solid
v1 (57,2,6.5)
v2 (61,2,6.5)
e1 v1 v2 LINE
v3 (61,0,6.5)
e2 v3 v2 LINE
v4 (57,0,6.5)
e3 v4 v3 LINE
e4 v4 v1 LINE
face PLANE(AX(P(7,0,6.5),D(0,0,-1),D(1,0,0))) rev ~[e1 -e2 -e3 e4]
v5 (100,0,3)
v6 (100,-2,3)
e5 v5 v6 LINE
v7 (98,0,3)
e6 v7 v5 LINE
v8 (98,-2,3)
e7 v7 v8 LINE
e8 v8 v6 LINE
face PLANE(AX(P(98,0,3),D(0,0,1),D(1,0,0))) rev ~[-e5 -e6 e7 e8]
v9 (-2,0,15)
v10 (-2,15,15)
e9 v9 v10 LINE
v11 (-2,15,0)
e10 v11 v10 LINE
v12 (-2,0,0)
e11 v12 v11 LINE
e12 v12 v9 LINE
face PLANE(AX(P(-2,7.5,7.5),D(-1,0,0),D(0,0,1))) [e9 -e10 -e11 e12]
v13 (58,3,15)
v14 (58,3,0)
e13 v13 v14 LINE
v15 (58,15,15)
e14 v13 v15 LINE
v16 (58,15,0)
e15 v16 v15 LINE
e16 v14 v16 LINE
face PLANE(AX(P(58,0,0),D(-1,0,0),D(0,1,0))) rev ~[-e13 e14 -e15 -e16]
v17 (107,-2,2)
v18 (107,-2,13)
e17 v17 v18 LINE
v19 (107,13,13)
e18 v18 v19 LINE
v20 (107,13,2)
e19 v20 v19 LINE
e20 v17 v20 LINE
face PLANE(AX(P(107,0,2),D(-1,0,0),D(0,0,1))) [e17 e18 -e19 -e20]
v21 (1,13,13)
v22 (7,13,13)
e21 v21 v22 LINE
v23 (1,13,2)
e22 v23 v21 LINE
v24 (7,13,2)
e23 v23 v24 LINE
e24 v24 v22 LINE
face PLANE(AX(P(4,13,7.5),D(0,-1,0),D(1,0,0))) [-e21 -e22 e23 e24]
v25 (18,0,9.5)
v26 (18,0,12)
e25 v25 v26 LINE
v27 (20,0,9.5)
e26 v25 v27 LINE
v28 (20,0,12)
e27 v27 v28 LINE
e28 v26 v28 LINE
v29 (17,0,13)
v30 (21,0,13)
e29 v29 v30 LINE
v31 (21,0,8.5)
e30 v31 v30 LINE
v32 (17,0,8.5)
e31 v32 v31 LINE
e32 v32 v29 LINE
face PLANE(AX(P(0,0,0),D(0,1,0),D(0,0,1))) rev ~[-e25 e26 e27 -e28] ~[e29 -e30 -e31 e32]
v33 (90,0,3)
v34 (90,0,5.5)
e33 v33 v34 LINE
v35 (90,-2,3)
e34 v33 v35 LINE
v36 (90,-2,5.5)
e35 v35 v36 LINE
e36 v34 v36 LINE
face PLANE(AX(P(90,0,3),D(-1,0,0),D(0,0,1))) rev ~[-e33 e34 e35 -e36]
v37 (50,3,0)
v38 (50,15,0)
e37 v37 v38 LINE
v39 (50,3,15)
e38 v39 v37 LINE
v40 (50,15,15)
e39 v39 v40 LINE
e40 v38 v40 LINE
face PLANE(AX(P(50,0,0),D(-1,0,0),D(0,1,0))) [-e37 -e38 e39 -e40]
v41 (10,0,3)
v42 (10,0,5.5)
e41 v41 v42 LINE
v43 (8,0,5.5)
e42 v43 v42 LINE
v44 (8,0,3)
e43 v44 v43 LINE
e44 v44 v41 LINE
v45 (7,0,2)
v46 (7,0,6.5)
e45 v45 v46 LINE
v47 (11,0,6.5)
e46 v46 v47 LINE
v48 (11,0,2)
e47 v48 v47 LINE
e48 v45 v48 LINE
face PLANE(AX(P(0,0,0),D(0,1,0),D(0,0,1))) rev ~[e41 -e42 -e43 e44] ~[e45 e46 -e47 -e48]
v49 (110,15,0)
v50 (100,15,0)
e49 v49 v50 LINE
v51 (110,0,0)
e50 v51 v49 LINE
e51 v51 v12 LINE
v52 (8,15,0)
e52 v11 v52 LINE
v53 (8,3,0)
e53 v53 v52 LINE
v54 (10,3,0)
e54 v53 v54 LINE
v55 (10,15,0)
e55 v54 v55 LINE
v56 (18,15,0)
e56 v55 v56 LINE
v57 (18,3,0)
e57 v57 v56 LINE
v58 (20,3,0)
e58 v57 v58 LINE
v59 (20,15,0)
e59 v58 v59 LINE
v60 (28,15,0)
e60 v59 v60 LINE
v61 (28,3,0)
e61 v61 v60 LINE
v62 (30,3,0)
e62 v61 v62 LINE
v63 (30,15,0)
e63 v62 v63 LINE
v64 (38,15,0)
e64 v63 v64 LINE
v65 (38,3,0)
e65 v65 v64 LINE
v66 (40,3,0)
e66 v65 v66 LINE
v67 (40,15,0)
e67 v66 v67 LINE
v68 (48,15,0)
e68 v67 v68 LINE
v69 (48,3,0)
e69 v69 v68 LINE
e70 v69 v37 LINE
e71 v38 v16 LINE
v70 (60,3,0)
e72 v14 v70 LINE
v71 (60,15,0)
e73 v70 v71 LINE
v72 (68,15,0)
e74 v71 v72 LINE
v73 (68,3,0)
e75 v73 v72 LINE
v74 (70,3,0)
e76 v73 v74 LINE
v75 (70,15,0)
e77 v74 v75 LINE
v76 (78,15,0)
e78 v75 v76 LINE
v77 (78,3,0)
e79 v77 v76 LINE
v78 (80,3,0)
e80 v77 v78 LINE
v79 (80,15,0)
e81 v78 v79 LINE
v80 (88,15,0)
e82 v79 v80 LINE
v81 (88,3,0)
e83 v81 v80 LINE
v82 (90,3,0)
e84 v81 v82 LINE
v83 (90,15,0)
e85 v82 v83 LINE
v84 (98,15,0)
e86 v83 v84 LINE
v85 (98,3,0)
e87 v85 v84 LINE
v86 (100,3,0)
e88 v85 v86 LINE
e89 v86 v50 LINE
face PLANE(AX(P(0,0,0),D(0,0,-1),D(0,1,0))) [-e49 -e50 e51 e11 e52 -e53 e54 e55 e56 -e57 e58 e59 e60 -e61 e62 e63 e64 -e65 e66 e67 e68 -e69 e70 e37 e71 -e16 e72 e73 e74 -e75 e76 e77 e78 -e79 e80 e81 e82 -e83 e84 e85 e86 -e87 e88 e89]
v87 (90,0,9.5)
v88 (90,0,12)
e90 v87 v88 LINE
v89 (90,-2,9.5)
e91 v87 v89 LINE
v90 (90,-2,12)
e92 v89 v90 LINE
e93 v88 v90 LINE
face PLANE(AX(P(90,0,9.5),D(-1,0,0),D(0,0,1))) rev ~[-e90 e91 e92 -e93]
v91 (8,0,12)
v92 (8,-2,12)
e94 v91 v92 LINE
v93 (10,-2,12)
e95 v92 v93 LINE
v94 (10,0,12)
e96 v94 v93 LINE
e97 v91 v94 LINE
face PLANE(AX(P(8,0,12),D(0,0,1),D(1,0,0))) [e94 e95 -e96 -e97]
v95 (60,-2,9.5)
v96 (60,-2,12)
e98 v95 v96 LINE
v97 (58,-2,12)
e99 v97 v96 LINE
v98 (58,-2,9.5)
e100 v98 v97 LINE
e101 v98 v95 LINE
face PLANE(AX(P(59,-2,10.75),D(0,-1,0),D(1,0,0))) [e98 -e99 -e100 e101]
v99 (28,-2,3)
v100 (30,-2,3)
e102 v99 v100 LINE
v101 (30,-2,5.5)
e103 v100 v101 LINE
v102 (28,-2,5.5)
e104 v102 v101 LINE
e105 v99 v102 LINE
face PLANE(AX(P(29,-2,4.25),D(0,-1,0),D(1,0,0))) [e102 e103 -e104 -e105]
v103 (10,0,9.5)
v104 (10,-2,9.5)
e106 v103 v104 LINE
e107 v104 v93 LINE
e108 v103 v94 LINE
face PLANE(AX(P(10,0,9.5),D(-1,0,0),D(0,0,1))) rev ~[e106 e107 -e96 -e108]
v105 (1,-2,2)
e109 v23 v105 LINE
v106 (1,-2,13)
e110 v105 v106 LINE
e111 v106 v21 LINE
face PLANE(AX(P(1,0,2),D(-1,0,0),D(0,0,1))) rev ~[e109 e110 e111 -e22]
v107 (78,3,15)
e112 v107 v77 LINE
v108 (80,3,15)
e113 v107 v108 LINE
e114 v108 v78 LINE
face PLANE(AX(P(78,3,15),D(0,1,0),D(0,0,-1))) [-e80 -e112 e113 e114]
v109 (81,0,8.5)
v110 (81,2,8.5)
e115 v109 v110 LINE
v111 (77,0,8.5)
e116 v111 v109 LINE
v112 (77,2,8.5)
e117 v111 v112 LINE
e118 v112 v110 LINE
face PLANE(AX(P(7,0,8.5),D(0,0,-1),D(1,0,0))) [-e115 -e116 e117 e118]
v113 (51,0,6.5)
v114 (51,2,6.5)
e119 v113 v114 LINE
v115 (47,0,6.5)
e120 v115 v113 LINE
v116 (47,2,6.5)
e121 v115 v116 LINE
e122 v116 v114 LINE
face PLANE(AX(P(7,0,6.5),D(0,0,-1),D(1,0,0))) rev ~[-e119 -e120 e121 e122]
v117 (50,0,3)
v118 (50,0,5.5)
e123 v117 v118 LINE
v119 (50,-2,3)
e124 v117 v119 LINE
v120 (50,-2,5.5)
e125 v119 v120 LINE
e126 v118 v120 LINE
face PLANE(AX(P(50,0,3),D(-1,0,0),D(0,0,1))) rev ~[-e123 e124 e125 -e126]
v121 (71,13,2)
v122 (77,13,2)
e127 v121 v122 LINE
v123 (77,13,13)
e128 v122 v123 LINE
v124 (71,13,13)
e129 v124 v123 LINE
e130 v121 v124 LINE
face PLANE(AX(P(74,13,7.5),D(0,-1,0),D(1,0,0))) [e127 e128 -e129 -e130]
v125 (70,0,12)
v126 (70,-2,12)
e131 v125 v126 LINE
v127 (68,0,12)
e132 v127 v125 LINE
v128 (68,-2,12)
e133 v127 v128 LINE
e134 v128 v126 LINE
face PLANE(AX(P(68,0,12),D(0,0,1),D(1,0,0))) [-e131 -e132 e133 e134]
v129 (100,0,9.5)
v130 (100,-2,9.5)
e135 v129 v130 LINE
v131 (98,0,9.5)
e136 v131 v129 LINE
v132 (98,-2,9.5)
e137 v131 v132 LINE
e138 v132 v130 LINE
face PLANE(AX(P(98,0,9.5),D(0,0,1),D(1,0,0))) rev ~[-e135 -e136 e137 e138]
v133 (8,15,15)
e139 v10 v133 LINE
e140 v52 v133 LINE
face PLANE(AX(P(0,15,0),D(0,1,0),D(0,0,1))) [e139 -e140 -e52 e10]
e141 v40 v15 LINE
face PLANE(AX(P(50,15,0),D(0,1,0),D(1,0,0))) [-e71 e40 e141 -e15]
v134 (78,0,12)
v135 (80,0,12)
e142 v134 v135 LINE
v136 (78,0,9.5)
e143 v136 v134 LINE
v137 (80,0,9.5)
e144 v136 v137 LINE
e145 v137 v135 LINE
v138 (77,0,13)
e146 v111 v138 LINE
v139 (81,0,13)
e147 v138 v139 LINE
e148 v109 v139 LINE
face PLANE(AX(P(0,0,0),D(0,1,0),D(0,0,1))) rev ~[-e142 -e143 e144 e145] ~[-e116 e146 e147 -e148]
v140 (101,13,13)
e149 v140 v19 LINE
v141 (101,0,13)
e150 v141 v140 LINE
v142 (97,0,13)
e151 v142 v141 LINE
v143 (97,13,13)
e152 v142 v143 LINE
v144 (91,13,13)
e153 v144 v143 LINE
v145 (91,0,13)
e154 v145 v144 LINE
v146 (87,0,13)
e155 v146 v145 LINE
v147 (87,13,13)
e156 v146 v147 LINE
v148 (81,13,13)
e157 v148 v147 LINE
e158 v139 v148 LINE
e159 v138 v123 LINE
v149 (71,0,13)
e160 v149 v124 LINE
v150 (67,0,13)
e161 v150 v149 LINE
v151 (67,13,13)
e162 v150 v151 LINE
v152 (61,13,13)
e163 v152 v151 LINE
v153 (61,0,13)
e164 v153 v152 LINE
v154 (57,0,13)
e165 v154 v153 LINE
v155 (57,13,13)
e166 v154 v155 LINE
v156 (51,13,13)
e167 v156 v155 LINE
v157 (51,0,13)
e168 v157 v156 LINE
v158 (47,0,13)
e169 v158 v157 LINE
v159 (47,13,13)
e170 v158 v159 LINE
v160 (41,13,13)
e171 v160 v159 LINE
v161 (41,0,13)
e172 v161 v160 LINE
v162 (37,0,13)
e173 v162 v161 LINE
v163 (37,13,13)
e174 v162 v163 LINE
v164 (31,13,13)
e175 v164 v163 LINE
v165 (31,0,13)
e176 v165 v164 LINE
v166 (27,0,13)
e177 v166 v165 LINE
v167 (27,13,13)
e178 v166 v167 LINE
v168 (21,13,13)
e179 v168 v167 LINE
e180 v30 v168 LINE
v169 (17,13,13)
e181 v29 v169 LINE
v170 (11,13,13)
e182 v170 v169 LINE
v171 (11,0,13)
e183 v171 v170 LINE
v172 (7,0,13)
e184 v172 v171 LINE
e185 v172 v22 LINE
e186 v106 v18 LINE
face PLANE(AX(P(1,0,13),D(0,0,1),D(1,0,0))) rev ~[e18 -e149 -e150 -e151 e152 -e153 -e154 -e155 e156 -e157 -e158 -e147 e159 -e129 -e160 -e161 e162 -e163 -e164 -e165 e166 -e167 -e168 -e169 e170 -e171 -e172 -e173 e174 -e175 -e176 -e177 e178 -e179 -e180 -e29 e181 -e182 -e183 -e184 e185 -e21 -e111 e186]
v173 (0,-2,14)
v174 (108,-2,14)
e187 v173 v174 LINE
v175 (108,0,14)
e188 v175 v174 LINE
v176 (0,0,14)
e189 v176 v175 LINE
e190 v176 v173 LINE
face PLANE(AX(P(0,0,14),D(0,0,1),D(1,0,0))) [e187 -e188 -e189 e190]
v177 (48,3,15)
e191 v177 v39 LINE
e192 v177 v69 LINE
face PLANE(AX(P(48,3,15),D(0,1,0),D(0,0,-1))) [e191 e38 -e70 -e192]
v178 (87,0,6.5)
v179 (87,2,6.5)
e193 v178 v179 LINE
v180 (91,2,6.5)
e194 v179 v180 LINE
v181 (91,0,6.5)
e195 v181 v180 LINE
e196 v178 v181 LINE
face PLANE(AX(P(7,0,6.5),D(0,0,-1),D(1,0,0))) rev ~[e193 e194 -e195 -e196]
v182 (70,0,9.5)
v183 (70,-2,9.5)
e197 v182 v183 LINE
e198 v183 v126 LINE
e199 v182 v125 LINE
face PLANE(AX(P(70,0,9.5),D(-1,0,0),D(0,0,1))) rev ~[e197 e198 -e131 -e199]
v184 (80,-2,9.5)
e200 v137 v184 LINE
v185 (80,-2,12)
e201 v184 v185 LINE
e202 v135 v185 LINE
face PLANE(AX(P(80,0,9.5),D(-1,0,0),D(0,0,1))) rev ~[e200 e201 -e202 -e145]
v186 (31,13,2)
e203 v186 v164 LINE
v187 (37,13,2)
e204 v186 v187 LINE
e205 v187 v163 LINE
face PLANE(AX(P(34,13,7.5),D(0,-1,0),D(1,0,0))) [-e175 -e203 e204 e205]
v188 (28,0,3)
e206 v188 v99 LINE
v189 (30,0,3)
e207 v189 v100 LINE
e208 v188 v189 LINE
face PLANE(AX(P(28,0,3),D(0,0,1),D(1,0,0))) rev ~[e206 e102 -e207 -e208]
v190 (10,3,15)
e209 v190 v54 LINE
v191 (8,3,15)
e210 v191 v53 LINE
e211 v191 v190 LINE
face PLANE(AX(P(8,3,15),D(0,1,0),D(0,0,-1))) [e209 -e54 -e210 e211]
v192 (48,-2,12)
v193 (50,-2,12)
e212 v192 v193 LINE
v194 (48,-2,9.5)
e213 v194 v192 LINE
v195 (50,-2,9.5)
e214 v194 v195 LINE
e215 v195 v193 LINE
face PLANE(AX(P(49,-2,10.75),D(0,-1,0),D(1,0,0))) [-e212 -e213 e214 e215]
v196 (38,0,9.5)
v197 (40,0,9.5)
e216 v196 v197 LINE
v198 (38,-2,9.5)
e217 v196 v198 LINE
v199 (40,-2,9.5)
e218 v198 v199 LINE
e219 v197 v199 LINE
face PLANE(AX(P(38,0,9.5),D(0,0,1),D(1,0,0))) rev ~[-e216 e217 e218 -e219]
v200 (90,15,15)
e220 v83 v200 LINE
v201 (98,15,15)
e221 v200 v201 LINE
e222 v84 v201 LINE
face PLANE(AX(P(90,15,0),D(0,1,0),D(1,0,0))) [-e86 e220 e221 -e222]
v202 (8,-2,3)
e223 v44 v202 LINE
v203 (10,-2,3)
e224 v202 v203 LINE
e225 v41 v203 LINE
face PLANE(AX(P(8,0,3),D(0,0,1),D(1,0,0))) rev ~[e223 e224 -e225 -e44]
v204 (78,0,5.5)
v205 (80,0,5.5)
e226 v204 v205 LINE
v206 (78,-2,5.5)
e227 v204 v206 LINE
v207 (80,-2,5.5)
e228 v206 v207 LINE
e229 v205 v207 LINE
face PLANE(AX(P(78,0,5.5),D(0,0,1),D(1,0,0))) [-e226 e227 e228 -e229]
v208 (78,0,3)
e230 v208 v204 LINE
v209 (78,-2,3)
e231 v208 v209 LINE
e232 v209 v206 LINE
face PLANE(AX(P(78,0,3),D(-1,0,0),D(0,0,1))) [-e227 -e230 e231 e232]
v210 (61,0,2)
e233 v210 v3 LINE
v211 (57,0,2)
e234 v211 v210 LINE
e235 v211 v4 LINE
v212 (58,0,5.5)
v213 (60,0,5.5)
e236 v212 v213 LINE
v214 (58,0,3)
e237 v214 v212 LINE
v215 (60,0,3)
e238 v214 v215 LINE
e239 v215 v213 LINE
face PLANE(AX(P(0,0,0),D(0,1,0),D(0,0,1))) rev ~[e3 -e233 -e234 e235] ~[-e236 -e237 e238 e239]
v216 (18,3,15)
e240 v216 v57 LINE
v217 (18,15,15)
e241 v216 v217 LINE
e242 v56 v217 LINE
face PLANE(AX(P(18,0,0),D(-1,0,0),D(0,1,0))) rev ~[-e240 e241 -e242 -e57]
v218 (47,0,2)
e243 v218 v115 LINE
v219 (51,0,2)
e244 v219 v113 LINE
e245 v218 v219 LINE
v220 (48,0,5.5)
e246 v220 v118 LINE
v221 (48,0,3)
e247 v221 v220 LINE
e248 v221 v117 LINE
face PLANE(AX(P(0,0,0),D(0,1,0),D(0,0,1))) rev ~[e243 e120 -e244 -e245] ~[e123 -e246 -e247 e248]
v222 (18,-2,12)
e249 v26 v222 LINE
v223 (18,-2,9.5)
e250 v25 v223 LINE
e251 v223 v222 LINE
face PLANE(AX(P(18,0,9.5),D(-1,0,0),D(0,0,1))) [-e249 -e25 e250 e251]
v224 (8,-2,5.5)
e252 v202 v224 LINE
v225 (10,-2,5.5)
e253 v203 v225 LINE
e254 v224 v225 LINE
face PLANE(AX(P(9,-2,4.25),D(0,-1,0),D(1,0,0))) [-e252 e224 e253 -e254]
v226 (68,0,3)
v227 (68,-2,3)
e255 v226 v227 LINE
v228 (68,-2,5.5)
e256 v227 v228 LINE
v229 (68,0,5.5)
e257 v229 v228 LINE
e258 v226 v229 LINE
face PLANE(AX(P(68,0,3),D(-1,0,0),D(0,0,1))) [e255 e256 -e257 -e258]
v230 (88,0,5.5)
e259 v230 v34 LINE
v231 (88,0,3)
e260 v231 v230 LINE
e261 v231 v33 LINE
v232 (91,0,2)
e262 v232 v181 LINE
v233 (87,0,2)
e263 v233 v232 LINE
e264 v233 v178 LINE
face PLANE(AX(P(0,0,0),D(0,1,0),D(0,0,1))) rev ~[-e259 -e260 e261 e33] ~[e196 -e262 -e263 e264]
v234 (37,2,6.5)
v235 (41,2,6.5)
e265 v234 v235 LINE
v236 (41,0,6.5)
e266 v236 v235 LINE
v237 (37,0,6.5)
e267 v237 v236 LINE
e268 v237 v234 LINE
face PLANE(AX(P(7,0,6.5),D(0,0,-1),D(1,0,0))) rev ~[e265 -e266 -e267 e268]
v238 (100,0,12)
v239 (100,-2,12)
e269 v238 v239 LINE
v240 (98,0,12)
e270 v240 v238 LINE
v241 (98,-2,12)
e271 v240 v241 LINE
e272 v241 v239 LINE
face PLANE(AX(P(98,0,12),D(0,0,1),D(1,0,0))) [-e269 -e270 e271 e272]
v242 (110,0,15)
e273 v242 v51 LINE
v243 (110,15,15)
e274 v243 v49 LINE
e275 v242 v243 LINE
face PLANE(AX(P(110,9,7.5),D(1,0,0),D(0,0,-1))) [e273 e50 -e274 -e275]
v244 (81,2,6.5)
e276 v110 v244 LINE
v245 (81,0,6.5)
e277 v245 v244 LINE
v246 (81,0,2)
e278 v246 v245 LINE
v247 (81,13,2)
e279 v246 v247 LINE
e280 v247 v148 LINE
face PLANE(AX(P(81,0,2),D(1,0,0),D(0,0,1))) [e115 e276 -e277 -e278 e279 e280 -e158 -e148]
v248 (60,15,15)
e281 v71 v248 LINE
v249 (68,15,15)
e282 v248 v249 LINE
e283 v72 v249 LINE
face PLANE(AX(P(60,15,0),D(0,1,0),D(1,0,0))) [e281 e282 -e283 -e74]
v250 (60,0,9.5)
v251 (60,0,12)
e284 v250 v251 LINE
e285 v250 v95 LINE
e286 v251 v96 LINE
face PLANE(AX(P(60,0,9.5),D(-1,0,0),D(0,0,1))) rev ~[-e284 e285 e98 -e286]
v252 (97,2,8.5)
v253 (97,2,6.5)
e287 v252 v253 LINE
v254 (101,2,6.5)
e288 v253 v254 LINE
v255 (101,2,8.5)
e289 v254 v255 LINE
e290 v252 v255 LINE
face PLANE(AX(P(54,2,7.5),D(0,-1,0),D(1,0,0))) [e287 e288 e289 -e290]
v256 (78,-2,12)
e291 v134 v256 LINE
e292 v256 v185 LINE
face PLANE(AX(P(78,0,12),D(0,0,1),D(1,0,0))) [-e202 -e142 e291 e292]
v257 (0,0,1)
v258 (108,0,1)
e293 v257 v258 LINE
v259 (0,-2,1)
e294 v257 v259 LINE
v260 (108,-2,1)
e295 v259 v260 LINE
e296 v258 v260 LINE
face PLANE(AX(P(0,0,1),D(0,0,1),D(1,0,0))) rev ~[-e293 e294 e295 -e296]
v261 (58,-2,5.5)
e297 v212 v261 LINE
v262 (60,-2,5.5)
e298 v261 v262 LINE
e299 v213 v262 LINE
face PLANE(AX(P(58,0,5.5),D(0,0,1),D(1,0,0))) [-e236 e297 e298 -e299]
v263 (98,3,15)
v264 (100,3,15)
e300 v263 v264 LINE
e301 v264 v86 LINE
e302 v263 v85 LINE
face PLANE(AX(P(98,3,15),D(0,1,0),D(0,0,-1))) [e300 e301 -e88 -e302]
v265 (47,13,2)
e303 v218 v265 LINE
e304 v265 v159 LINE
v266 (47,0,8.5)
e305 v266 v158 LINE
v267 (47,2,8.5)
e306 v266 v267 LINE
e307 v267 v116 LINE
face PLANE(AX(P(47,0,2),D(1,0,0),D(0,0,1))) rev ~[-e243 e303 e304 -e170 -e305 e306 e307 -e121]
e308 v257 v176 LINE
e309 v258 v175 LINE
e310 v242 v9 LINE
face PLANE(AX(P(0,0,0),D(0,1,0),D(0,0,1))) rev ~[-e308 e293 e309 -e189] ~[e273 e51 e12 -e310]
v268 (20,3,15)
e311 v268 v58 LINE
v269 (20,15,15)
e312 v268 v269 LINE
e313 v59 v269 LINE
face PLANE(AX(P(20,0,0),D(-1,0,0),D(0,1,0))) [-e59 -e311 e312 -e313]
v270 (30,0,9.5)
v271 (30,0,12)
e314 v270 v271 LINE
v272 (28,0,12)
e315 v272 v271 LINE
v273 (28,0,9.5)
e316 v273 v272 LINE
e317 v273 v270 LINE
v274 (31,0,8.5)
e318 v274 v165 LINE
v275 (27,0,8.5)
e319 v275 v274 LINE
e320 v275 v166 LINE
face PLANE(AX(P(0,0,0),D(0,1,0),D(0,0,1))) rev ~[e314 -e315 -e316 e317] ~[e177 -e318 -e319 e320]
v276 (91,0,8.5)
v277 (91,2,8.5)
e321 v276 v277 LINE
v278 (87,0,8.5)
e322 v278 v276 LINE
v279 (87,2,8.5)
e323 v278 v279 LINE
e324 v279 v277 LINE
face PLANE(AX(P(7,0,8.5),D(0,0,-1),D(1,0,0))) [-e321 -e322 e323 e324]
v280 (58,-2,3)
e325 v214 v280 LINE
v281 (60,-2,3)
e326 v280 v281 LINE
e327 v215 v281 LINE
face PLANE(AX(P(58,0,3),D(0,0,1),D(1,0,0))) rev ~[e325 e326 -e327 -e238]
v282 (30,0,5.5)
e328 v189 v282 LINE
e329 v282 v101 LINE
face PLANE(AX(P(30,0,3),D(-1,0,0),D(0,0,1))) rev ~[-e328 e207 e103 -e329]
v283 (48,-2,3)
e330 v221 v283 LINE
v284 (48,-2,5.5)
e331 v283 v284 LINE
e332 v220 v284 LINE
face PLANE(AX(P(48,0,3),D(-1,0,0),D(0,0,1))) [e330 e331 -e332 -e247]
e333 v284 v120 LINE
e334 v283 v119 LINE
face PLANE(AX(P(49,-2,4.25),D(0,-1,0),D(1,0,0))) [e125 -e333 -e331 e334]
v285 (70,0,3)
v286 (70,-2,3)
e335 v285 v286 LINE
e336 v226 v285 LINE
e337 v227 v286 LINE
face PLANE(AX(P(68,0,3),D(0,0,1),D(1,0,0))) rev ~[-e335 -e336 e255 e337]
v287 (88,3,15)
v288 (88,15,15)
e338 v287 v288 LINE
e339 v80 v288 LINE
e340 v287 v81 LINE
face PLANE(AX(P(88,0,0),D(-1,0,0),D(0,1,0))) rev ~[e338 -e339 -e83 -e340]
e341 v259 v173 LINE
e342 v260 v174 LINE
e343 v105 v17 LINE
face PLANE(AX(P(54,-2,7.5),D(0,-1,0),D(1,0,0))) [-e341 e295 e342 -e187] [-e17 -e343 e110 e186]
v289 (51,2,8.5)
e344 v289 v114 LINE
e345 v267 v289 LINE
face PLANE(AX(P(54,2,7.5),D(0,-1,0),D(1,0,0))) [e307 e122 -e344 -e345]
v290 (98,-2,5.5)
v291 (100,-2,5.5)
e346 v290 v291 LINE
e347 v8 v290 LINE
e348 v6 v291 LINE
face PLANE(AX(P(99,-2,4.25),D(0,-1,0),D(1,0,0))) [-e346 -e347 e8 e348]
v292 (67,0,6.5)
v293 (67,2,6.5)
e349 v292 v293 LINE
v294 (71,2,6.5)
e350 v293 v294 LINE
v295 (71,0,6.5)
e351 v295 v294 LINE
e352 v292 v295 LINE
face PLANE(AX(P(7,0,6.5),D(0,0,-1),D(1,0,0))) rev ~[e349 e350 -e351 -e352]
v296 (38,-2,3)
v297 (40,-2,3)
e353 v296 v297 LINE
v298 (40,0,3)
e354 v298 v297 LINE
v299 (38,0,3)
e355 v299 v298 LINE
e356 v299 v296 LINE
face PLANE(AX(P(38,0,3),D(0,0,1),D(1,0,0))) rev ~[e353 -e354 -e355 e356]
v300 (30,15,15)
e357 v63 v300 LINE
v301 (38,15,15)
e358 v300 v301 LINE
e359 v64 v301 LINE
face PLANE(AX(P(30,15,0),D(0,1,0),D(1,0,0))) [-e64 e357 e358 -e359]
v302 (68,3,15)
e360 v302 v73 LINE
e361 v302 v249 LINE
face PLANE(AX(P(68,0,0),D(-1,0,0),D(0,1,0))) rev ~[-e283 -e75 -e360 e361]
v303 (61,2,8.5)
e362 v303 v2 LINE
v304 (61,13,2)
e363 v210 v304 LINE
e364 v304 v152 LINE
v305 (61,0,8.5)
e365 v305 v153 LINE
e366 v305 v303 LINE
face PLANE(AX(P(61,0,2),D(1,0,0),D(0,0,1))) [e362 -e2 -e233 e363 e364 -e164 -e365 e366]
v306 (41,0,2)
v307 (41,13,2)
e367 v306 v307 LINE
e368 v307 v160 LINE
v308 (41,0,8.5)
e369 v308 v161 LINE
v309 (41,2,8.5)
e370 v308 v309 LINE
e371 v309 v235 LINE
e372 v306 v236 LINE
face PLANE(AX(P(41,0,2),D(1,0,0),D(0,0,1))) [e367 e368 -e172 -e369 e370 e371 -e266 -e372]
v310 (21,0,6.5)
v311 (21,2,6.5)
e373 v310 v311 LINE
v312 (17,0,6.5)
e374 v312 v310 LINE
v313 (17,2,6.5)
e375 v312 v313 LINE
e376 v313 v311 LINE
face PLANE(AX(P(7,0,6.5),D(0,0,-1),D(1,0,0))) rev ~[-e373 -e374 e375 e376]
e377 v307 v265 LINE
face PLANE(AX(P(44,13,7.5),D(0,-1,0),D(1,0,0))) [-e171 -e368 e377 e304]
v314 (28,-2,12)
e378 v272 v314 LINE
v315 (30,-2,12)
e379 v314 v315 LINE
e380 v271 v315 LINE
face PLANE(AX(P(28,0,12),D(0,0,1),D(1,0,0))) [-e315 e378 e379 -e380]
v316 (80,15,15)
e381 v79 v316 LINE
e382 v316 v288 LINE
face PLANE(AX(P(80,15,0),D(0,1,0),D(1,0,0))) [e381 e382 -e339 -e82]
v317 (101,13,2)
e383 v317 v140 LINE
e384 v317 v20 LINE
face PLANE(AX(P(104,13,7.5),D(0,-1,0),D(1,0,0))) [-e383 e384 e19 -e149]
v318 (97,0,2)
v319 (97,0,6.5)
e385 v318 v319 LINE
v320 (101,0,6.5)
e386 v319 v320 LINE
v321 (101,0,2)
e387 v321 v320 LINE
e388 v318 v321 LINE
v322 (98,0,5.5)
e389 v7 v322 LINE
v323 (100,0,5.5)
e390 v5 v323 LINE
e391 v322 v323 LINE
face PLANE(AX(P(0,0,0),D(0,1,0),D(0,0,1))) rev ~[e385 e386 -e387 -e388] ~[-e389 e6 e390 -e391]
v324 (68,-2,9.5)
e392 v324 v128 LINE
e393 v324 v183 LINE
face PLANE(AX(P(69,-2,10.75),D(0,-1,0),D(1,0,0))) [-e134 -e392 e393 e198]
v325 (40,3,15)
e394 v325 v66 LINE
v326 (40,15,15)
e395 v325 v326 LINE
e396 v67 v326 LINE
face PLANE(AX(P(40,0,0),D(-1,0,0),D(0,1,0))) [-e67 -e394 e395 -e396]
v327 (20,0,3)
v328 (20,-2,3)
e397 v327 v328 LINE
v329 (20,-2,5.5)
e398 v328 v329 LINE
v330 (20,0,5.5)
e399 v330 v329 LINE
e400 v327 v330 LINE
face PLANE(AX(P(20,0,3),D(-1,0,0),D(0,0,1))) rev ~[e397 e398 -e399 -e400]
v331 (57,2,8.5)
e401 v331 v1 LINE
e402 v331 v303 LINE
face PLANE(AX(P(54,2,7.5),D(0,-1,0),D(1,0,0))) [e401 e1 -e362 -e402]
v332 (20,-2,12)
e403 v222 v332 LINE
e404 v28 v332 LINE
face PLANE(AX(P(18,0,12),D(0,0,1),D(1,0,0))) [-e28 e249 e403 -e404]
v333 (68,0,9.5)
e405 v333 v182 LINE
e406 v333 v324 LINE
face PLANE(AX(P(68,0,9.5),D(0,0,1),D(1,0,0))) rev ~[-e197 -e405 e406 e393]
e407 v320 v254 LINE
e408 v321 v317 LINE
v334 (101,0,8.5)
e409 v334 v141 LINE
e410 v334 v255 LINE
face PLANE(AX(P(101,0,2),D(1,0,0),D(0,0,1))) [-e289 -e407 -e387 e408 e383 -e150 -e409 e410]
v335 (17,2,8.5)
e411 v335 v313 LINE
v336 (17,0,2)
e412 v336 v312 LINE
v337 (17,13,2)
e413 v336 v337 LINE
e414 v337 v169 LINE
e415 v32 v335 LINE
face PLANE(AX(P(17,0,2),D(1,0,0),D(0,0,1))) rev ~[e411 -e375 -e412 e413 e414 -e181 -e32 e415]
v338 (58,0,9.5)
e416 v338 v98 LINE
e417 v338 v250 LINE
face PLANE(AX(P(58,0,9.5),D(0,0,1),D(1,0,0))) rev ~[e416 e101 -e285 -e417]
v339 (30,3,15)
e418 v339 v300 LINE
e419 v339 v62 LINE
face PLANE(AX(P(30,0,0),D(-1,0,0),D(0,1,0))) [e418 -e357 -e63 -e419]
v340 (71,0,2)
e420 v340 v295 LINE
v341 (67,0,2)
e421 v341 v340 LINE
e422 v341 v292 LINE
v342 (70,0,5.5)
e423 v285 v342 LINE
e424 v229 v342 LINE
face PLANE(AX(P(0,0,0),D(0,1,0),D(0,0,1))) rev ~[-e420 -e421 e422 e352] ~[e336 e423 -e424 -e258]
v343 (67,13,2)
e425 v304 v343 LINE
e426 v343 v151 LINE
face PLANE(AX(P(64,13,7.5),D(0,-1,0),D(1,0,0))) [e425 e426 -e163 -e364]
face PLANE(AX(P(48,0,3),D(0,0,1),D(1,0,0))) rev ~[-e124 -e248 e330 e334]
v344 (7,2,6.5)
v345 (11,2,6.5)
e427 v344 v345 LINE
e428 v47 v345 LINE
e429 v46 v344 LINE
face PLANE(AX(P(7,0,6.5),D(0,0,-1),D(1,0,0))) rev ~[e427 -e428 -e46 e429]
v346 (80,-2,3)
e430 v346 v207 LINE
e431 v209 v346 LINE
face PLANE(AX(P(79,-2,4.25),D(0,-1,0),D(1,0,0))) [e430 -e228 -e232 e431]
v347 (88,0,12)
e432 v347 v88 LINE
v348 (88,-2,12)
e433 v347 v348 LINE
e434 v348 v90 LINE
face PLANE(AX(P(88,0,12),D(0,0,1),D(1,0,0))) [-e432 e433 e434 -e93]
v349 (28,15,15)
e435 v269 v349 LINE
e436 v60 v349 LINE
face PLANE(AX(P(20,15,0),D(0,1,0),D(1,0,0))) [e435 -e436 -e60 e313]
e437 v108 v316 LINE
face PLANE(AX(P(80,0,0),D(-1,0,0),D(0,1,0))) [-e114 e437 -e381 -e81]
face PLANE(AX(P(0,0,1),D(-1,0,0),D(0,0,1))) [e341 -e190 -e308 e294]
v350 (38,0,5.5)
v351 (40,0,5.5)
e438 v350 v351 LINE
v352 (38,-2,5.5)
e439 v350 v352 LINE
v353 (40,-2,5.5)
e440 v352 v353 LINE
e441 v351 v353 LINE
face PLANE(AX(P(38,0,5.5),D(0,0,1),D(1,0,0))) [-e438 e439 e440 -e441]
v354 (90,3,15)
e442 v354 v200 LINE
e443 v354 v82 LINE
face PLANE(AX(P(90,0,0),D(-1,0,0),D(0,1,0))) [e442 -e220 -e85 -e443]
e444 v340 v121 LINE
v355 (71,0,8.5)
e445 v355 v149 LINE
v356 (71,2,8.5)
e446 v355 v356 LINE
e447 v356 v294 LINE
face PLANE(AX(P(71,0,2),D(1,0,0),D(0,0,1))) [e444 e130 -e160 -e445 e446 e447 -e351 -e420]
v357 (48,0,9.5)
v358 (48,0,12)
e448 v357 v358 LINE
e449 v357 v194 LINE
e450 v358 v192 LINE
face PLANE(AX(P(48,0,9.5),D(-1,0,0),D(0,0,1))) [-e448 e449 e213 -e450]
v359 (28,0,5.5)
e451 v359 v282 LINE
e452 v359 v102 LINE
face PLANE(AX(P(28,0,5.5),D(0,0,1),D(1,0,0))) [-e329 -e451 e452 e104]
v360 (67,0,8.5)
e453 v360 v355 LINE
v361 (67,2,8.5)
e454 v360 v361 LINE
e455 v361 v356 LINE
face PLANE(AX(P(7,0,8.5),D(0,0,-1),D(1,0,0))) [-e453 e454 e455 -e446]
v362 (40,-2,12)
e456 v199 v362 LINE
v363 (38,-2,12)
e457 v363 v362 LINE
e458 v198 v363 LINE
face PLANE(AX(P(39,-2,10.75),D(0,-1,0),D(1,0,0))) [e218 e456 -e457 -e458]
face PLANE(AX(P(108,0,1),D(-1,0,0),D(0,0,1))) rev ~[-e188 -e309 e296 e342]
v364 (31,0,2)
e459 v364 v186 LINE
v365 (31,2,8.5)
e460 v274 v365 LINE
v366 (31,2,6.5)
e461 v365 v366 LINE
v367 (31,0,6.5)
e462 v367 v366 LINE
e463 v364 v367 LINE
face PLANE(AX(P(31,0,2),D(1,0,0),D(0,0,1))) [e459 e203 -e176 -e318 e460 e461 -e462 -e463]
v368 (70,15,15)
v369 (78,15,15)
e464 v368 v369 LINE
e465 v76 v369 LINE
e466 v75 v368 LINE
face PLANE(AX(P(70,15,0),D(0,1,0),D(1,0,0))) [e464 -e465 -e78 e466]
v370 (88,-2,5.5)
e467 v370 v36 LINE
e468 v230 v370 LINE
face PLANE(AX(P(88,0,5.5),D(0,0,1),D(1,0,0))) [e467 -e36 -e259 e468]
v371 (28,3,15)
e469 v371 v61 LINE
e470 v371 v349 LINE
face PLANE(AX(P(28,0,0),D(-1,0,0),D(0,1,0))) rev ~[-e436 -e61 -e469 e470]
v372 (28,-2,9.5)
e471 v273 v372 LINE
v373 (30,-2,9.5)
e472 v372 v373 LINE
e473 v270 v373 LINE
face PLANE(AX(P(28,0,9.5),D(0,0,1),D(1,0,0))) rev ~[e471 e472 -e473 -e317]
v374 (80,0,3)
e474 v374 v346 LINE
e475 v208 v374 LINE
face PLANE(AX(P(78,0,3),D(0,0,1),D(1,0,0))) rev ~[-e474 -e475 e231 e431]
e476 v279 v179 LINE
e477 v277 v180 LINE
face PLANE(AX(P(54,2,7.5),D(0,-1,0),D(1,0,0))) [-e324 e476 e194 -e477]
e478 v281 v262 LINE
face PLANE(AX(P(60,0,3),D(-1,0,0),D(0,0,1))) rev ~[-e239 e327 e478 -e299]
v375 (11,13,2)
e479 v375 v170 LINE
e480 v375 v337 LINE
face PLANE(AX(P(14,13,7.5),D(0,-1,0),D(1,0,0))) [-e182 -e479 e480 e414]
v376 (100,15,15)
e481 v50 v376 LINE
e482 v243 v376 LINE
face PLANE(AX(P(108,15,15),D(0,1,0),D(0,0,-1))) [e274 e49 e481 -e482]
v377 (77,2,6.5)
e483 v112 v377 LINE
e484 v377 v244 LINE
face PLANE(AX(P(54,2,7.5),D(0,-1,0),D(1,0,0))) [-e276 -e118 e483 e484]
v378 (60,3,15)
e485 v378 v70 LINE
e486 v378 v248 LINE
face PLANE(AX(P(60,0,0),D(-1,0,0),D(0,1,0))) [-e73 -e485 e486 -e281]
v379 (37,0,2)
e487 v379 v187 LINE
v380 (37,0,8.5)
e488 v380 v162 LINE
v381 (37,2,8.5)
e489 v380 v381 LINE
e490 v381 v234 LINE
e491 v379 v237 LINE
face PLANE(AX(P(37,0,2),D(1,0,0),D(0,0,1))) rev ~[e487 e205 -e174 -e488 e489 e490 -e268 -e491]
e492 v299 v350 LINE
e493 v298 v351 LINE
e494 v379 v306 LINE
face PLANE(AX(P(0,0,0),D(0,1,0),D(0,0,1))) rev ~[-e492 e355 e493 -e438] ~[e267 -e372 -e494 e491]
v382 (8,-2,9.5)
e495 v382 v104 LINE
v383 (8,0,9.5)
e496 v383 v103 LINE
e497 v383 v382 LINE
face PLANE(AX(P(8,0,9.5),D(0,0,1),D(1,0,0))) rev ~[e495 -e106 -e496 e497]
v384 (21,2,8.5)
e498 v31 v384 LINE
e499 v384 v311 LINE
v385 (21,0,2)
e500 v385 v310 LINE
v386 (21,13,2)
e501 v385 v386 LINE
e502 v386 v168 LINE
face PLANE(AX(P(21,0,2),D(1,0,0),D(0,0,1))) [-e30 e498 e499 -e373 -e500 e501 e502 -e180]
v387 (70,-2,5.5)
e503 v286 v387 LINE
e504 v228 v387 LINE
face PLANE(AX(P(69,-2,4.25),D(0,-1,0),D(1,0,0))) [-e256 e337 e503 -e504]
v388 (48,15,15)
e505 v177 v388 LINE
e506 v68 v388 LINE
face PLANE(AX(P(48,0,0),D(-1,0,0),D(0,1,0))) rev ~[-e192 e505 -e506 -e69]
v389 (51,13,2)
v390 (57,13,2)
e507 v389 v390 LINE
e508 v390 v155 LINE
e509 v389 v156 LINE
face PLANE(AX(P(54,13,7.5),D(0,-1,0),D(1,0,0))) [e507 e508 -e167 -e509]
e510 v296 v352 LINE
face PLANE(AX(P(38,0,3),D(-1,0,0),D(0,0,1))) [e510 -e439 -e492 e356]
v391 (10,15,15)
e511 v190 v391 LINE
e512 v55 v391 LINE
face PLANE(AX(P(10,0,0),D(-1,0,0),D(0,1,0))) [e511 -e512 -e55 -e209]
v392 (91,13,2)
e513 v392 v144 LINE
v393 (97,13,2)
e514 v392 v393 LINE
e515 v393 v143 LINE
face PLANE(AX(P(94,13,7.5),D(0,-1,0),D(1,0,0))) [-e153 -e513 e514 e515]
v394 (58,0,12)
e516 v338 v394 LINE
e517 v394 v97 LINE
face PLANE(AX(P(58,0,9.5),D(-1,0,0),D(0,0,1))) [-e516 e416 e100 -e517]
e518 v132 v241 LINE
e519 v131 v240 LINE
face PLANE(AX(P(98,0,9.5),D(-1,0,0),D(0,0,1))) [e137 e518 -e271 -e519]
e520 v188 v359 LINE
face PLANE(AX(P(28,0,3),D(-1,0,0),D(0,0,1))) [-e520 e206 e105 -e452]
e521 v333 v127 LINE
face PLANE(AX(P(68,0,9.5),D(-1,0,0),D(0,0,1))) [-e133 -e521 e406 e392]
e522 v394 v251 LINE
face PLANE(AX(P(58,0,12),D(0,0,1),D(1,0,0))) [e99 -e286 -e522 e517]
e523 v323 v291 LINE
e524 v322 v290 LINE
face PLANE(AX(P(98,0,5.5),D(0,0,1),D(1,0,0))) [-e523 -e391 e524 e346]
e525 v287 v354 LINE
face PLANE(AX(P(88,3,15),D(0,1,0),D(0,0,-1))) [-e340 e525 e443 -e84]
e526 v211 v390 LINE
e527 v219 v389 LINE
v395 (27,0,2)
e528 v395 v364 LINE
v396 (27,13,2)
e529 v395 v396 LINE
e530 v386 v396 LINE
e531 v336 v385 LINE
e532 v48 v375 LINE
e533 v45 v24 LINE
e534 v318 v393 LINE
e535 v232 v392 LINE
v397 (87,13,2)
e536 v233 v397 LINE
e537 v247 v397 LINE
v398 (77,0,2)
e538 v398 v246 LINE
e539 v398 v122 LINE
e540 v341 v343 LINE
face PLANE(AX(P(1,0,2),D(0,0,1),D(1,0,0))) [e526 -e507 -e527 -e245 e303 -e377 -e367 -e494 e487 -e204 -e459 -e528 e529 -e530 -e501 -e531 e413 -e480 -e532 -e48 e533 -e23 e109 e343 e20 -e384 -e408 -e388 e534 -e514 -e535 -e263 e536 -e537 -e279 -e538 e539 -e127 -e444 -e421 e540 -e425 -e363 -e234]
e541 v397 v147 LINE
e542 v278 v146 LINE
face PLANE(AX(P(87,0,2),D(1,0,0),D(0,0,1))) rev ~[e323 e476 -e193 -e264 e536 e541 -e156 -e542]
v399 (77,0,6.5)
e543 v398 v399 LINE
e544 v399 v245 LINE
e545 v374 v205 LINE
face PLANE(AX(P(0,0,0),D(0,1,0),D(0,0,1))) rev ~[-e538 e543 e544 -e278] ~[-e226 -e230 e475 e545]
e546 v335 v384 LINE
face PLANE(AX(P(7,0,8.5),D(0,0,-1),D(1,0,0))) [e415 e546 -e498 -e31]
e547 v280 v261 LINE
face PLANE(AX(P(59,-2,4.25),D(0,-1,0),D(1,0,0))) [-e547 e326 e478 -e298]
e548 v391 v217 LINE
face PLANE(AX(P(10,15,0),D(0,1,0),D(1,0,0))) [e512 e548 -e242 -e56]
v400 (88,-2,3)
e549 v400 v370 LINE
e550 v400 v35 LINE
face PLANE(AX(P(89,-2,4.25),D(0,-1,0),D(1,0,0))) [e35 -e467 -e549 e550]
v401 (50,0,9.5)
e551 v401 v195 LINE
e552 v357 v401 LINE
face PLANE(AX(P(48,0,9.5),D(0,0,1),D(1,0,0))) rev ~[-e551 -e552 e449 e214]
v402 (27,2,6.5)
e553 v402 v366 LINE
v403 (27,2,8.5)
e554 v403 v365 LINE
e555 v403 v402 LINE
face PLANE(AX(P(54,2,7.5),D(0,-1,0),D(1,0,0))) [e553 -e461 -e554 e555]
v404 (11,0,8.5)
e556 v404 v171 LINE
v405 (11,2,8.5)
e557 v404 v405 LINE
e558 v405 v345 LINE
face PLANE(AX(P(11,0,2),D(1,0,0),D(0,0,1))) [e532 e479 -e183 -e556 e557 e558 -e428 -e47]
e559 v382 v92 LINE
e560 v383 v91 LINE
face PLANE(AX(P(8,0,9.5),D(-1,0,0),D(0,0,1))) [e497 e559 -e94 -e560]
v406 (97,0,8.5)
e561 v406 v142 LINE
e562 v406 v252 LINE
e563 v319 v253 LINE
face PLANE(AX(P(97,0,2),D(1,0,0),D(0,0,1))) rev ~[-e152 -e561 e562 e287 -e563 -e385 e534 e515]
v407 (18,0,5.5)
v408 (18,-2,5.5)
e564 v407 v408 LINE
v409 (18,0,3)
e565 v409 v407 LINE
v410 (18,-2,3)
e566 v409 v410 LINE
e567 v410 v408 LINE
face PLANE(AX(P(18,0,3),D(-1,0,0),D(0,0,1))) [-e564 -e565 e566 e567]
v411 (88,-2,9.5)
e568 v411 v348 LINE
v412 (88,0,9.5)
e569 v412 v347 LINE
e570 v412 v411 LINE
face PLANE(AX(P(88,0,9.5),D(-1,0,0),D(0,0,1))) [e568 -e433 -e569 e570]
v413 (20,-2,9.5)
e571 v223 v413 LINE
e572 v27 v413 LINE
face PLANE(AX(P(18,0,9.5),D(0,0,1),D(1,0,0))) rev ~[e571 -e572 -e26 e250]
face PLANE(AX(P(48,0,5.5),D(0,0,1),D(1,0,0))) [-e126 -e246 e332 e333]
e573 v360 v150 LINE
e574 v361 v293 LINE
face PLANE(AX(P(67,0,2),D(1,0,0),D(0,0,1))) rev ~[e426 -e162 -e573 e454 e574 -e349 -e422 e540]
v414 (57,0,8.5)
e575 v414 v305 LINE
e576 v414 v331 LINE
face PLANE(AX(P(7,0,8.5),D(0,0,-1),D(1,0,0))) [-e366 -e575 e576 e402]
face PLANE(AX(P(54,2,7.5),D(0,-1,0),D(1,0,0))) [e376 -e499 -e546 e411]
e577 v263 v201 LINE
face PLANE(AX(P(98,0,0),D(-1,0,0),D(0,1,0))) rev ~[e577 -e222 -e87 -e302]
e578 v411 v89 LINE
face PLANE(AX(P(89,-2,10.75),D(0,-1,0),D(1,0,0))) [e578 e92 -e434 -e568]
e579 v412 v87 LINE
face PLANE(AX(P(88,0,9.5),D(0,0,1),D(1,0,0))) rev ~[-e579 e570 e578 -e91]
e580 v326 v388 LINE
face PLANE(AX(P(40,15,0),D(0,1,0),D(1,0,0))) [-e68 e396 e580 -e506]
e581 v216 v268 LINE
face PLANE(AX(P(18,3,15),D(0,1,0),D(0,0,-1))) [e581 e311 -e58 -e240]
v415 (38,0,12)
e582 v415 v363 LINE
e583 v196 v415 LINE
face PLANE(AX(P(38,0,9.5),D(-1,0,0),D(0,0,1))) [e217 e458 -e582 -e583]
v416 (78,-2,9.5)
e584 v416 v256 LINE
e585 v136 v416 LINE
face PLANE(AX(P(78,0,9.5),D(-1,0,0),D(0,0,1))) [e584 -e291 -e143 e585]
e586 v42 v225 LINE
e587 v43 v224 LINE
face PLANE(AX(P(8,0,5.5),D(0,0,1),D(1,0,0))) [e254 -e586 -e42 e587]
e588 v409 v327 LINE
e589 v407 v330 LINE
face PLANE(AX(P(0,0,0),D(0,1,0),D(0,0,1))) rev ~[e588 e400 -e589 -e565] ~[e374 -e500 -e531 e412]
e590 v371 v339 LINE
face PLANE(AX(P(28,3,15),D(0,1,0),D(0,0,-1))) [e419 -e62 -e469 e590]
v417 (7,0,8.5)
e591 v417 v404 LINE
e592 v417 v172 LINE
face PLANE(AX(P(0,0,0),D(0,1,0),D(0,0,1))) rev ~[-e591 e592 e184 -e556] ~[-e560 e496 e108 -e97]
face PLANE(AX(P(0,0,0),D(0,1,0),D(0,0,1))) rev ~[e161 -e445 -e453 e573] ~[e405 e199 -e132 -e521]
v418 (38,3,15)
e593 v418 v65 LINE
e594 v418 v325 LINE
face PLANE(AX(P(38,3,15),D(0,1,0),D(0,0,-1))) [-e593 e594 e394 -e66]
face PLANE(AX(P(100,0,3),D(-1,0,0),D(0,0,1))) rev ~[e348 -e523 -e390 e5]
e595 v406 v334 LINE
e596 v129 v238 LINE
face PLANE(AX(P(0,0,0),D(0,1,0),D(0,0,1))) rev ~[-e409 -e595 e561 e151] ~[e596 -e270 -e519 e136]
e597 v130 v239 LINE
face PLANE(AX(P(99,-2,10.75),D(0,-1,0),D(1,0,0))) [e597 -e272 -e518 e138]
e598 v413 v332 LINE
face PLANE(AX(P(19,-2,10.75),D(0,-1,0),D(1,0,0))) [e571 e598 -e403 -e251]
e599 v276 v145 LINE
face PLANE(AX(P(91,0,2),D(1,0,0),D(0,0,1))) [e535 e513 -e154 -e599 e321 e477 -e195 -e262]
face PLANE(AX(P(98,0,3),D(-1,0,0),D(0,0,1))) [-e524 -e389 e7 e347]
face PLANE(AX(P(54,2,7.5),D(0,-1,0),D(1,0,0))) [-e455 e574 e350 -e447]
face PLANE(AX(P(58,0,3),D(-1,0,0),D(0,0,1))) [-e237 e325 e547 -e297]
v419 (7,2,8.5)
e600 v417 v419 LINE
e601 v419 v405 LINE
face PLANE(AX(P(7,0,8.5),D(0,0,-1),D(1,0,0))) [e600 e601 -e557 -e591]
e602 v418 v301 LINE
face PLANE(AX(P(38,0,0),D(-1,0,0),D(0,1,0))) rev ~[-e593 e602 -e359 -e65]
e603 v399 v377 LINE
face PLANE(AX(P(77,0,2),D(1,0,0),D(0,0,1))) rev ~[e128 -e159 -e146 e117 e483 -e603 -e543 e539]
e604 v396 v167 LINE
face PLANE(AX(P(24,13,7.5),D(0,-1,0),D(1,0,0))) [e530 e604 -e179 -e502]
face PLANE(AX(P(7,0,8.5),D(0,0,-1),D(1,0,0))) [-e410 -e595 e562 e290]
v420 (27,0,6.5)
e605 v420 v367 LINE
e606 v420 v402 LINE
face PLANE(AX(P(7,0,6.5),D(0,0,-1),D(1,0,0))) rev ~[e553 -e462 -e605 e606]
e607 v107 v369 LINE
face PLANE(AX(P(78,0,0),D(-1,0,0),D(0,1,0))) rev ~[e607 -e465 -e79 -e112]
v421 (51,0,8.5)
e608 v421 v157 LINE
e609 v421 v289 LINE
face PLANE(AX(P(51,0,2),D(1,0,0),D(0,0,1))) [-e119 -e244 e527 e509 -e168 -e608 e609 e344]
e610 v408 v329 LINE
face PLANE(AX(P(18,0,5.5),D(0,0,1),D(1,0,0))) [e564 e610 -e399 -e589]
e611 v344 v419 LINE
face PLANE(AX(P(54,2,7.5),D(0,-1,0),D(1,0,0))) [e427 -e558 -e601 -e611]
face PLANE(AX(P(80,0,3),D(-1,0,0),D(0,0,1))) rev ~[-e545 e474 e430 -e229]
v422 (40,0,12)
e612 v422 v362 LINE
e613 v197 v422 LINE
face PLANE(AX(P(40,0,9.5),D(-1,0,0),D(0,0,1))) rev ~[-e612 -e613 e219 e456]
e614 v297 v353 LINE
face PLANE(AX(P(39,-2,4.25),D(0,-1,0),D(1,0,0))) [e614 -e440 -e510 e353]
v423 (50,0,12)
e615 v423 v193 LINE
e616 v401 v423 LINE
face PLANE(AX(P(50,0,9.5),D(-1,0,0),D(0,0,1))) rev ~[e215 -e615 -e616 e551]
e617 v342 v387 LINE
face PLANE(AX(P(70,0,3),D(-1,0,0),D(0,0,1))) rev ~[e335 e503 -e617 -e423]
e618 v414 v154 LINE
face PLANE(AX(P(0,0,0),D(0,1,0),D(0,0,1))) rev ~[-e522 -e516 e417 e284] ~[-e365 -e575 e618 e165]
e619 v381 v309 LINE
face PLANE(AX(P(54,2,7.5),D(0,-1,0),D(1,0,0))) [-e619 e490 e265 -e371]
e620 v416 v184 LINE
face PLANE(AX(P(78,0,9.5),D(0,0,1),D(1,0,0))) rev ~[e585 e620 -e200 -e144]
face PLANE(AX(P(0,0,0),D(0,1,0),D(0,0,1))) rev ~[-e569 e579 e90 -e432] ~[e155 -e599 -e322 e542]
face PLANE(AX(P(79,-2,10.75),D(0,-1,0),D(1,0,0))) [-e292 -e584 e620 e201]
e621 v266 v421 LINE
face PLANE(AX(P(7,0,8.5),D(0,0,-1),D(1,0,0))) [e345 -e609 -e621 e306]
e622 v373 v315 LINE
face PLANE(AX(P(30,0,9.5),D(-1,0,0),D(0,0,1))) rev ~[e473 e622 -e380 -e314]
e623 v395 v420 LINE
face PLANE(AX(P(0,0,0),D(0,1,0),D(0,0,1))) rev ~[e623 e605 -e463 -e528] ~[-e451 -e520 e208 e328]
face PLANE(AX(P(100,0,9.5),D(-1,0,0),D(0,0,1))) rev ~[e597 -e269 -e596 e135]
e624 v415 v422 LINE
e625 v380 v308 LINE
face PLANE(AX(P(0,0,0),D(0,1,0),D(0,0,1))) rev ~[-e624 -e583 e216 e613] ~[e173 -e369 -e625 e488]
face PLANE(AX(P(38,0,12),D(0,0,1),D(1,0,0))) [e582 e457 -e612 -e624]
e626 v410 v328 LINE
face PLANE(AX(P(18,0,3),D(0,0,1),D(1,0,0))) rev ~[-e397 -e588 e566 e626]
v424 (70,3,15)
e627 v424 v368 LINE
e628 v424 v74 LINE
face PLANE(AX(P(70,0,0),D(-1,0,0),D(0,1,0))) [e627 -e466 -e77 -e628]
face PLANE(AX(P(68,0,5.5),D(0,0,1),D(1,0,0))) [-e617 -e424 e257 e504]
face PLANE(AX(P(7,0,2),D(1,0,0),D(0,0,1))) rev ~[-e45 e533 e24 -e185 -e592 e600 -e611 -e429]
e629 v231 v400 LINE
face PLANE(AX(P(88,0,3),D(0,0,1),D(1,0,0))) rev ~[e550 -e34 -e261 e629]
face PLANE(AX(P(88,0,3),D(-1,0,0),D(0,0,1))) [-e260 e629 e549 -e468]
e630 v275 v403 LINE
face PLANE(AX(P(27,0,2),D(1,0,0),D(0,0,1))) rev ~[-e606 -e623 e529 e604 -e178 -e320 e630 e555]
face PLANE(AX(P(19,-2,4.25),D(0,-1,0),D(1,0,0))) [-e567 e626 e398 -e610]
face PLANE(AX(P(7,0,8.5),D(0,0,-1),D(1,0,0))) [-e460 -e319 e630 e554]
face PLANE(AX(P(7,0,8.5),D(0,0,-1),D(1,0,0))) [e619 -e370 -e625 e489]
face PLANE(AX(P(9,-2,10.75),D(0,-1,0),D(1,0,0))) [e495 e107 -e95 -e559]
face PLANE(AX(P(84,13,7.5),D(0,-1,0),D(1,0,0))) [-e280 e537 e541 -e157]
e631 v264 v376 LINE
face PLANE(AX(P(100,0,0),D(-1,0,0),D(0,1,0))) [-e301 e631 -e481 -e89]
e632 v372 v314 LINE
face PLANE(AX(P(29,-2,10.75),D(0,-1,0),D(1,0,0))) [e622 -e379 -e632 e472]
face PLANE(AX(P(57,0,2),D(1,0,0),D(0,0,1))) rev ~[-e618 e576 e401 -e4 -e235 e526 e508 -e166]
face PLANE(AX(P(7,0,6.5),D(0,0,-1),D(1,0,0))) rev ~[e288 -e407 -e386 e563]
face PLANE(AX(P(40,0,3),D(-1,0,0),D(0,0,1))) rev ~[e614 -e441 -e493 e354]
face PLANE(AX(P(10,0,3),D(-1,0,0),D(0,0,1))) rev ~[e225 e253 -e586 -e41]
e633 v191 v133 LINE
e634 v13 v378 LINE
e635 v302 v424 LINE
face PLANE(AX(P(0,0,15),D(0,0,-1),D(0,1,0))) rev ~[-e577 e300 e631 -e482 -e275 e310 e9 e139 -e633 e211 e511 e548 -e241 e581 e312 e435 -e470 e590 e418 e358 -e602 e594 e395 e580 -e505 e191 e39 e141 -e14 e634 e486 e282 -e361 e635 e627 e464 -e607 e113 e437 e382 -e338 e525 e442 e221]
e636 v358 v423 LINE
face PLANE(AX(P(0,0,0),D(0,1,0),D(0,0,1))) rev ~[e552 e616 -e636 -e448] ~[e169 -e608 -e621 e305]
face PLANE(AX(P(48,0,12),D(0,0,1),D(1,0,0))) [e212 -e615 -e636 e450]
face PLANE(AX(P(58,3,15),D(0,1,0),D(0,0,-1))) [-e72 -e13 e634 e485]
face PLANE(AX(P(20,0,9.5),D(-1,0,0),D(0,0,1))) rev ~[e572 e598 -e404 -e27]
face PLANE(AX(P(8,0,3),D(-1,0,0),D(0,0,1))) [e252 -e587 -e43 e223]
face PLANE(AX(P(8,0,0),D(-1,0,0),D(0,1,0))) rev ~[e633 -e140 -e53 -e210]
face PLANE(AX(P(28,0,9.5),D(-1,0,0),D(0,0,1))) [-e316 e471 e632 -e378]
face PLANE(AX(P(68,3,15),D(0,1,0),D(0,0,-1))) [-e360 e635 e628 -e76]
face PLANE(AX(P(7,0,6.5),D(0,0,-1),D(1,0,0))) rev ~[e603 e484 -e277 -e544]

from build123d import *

# Parameters (mm, degrees)
SKETCH1_W                   = 8
SKETCH1_H                   = 15
FIRST_CHAMBER_BLOCK_DEPTH   = 15
SKETCH2_W                   = 6
SKETCH2_H                   = 11
FIRST_CHAMBER_CAVITY_DEPTH  = 13
SKETCH3_W                   = 15
SKETCH3_H                   = 3
CHAMBER_SPACER_DEPTH        = 2
PATTERN_CHAMBERS_COUNT      = 11
PATTERN_CHAMBERS_PITCH      = 10
SKETCH4_W                   = 15
SKETCH4_H                   = 12
THICKEN_END_1_DEPTH         = 2
SKETCH5_W                   = 15
SKETCH5_H                   = 15
THICKEN_END_2_DEPTH         = 2
SKETCH6_W                   = 94
SKETCH6_H                   = 2
CENTRAL_AIR_CHANNEL_DEPTH   = 2
SKETCH7_W                   = 108
SKETCH7_H                   = 13
SKETCH7_W_2                 = 106
SKETCH7_H_2                 = 11
BONDING_RIDGE_DEPTH         = 2
SKETCH9_W                   = 2
SKETCH9_H                   = 2.5
BONDING_BUMPS_DEPTH         = 2
PATTERN_BONDING_BUMPS_COUNT = 10
PATTERN_BONDING_BUMPS_PITCH = 10


with BuildPart() as part:
    # Sketch1 → first chamber block (new body)
    with BuildSketch(Plane.XY):
        with Locations((4, 7.5)):
            Rectangle(SKETCH1_W, SKETCH1_H)
    extrude(amount=FIRST_CHAMBER_BLOCK_DEPTH)

    # Sketch2 → first chamber cavity (cut)
    with BuildSketch(Plane.XZ):
        with Locations((4, 7.5)):
            Rectangle(SKETCH2_W, SKETCH2_H)
    extrude(amount=-FIRST_CHAMBER_CAVITY_DEPTH, mode=Mode.SUBTRACT)

    # Sketch3 → chamber spacer (add)
    with BuildSketch(Plane(origin=(8, 0, 0), x_dir=(0, 0, -1), z_dir=(1, 0, 0))):
        with Locations((-7.5, 1.5)):
            Rectangle(SKETCH3_W, SKETCH3_H)
    extrude(amount=CHAMBER_SPACER_DEPTH)


with BuildPart() as pattern_chambers_1:
    # pattern chambers: pattern copy
    add(part.part.moved(Location(Vector(1, 0, 0) * (1 * PATTERN_CHAMBERS_PITCH))))


with BuildPart() as pattern_chambers_2:
    # pattern chambers: pattern copy
    add(part.part.moved(Location(Vector(1, 0, 0) * (2 * PATTERN_CHAMBERS_PITCH))))


with BuildPart() as pattern_chambers_3:
    # pattern chambers: pattern copy
    add(part.part.moved(Location(Vector(1, 0, 0) * (3 * PATTERN_CHAMBERS_PITCH))))


with BuildPart() as pattern_chambers_4:
    # pattern chambers: pattern copy
    add(part.part.moved(Location(Vector(1, 0, 0) * (4 * PATTERN_CHAMBERS_PITCH))))


with BuildPart() as pattern_chambers_5:
    # pattern chambers: pattern copy
    add(part.part.moved(Location(Vector(1, 0, 0) * (5 * PATTERN_CHAMBERS_PITCH))))


with BuildPart() as pattern_chambers_6:
    # pattern chambers: pattern copy
    add(part.part.moved(Location(Vector(1, 0, 0) * (6 * PATTERN_CHAMBERS_PITCH))))


with BuildPart() as pattern_chambers_7:
    # pattern chambers: pattern copy
    add(part.part.moved(Location(Vector(1, 0, 0) * (7 * PATTERN_CHAMBERS_PITCH))))


with BuildPart() as pattern_chambers_8:
    # pattern chambers: pattern copy
    add(part.part.moved(Location(Vector(1, 0, 0) * (8 * PATTERN_CHAMBERS_PITCH))))


with BuildPart() as pattern_chambers_9:
    # pattern chambers: pattern copy
    add(part.part.moved(Location(Vector(1, 0, 0) * (9 * PATTERN_CHAMBERS_PITCH))))


with BuildPart() as pattern_chambers_10:
    # pattern chambers: pattern copy
    add(part.part.moved(Location(Vector(1, 0, 0) * (10 * PATTERN_CHAMBERS_PITCH))))

    # combine into 1 solid body: union pattern chambers_9, pattern chambers_8, pattern chambers_7, pattern chambers_6, pattern chambers_5, pattern chambers_4, pattern chambers_3, pattern chambers_2, pattern chambers_1, part
    add(pattern_chambers_9.part)
    add(pattern_chambers_8.part)
    add(pattern_chambers_7.part)
    add(pattern_chambers_6.part)
    add(pattern_chambers_5.part)
    add(pattern_chambers_4.part)
    add(pattern_chambers_3.part)
    add(pattern_chambers_2.part)
    add(pattern_chambers_1.part)
    add(part.part)

    # Sketch4 → thicken end 1 (add)
    with BuildSketch(Plane(origin=(108, 0, 0), x_dir=(0, 0, -1), z_dir=(1, 0, 0))):
        with Locations((-7.5, 9)):
            Rectangle(SKETCH4_W, SKETCH4_H)
    extrude(amount=THICKEN_END_1_DEPTH)

    # Sketch5 → thicken end 2 (add)
    with BuildSketch(Plane.ZY):
        with Locations((7.5, 7.5)):
            Rectangle(SKETCH5_W, SKETCH5_H)
    extrude(amount=THICKEN_END_2_DEPTH)

    # Sketch6 → central air channel (cut)
    with BuildSketch(Plane.XZ):
        with Locations((54, 7.5)):
            Rectangle(SKETCH6_W, SKETCH6_H)
    extrude(amount=-CENTRAL_AIR_CHANNEL_DEPTH, mode=Mode.SUBTRACT)

    # Sketch7 → bonding ridge (add)
    with BuildSketch(Plane.XZ):
        with Locations((54, 7.5)):
            Rectangle(SKETCH7_W, SKETCH7_H)
        with Locations((54, 7.5)):
            Rectangle(SKETCH7_W_2, SKETCH7_H_2, mode=Mode.SUBTRACT)
    extrude(amount=BONDING_RIDGE_DEPTH)

    # Sketch9 → bonding bumps (add)
    with BuildSketch(Plane.XZ):
        with Locations((9, 10.75)):
            Rectangle(SKETCH9_W, SKETCH9_H)
        with Locations((9, 4.25)):
            Rectangle(SKETCH9_W, SKETCH9_H)
    bonding_bumps = extrude(amount=BONDING_BUMPS_DEPTH)

    # pattern bonding bumps: bonding bumps ×10
    with Locations(*[(i * PATTERN_BONDING_BUMPS_PITCH, 0, 0) for i in range(1, PATTERN_BONDING_BUMPS_COUNT)]):
        add(bonding_bumps)


solid = pattern_chambers_10.part
